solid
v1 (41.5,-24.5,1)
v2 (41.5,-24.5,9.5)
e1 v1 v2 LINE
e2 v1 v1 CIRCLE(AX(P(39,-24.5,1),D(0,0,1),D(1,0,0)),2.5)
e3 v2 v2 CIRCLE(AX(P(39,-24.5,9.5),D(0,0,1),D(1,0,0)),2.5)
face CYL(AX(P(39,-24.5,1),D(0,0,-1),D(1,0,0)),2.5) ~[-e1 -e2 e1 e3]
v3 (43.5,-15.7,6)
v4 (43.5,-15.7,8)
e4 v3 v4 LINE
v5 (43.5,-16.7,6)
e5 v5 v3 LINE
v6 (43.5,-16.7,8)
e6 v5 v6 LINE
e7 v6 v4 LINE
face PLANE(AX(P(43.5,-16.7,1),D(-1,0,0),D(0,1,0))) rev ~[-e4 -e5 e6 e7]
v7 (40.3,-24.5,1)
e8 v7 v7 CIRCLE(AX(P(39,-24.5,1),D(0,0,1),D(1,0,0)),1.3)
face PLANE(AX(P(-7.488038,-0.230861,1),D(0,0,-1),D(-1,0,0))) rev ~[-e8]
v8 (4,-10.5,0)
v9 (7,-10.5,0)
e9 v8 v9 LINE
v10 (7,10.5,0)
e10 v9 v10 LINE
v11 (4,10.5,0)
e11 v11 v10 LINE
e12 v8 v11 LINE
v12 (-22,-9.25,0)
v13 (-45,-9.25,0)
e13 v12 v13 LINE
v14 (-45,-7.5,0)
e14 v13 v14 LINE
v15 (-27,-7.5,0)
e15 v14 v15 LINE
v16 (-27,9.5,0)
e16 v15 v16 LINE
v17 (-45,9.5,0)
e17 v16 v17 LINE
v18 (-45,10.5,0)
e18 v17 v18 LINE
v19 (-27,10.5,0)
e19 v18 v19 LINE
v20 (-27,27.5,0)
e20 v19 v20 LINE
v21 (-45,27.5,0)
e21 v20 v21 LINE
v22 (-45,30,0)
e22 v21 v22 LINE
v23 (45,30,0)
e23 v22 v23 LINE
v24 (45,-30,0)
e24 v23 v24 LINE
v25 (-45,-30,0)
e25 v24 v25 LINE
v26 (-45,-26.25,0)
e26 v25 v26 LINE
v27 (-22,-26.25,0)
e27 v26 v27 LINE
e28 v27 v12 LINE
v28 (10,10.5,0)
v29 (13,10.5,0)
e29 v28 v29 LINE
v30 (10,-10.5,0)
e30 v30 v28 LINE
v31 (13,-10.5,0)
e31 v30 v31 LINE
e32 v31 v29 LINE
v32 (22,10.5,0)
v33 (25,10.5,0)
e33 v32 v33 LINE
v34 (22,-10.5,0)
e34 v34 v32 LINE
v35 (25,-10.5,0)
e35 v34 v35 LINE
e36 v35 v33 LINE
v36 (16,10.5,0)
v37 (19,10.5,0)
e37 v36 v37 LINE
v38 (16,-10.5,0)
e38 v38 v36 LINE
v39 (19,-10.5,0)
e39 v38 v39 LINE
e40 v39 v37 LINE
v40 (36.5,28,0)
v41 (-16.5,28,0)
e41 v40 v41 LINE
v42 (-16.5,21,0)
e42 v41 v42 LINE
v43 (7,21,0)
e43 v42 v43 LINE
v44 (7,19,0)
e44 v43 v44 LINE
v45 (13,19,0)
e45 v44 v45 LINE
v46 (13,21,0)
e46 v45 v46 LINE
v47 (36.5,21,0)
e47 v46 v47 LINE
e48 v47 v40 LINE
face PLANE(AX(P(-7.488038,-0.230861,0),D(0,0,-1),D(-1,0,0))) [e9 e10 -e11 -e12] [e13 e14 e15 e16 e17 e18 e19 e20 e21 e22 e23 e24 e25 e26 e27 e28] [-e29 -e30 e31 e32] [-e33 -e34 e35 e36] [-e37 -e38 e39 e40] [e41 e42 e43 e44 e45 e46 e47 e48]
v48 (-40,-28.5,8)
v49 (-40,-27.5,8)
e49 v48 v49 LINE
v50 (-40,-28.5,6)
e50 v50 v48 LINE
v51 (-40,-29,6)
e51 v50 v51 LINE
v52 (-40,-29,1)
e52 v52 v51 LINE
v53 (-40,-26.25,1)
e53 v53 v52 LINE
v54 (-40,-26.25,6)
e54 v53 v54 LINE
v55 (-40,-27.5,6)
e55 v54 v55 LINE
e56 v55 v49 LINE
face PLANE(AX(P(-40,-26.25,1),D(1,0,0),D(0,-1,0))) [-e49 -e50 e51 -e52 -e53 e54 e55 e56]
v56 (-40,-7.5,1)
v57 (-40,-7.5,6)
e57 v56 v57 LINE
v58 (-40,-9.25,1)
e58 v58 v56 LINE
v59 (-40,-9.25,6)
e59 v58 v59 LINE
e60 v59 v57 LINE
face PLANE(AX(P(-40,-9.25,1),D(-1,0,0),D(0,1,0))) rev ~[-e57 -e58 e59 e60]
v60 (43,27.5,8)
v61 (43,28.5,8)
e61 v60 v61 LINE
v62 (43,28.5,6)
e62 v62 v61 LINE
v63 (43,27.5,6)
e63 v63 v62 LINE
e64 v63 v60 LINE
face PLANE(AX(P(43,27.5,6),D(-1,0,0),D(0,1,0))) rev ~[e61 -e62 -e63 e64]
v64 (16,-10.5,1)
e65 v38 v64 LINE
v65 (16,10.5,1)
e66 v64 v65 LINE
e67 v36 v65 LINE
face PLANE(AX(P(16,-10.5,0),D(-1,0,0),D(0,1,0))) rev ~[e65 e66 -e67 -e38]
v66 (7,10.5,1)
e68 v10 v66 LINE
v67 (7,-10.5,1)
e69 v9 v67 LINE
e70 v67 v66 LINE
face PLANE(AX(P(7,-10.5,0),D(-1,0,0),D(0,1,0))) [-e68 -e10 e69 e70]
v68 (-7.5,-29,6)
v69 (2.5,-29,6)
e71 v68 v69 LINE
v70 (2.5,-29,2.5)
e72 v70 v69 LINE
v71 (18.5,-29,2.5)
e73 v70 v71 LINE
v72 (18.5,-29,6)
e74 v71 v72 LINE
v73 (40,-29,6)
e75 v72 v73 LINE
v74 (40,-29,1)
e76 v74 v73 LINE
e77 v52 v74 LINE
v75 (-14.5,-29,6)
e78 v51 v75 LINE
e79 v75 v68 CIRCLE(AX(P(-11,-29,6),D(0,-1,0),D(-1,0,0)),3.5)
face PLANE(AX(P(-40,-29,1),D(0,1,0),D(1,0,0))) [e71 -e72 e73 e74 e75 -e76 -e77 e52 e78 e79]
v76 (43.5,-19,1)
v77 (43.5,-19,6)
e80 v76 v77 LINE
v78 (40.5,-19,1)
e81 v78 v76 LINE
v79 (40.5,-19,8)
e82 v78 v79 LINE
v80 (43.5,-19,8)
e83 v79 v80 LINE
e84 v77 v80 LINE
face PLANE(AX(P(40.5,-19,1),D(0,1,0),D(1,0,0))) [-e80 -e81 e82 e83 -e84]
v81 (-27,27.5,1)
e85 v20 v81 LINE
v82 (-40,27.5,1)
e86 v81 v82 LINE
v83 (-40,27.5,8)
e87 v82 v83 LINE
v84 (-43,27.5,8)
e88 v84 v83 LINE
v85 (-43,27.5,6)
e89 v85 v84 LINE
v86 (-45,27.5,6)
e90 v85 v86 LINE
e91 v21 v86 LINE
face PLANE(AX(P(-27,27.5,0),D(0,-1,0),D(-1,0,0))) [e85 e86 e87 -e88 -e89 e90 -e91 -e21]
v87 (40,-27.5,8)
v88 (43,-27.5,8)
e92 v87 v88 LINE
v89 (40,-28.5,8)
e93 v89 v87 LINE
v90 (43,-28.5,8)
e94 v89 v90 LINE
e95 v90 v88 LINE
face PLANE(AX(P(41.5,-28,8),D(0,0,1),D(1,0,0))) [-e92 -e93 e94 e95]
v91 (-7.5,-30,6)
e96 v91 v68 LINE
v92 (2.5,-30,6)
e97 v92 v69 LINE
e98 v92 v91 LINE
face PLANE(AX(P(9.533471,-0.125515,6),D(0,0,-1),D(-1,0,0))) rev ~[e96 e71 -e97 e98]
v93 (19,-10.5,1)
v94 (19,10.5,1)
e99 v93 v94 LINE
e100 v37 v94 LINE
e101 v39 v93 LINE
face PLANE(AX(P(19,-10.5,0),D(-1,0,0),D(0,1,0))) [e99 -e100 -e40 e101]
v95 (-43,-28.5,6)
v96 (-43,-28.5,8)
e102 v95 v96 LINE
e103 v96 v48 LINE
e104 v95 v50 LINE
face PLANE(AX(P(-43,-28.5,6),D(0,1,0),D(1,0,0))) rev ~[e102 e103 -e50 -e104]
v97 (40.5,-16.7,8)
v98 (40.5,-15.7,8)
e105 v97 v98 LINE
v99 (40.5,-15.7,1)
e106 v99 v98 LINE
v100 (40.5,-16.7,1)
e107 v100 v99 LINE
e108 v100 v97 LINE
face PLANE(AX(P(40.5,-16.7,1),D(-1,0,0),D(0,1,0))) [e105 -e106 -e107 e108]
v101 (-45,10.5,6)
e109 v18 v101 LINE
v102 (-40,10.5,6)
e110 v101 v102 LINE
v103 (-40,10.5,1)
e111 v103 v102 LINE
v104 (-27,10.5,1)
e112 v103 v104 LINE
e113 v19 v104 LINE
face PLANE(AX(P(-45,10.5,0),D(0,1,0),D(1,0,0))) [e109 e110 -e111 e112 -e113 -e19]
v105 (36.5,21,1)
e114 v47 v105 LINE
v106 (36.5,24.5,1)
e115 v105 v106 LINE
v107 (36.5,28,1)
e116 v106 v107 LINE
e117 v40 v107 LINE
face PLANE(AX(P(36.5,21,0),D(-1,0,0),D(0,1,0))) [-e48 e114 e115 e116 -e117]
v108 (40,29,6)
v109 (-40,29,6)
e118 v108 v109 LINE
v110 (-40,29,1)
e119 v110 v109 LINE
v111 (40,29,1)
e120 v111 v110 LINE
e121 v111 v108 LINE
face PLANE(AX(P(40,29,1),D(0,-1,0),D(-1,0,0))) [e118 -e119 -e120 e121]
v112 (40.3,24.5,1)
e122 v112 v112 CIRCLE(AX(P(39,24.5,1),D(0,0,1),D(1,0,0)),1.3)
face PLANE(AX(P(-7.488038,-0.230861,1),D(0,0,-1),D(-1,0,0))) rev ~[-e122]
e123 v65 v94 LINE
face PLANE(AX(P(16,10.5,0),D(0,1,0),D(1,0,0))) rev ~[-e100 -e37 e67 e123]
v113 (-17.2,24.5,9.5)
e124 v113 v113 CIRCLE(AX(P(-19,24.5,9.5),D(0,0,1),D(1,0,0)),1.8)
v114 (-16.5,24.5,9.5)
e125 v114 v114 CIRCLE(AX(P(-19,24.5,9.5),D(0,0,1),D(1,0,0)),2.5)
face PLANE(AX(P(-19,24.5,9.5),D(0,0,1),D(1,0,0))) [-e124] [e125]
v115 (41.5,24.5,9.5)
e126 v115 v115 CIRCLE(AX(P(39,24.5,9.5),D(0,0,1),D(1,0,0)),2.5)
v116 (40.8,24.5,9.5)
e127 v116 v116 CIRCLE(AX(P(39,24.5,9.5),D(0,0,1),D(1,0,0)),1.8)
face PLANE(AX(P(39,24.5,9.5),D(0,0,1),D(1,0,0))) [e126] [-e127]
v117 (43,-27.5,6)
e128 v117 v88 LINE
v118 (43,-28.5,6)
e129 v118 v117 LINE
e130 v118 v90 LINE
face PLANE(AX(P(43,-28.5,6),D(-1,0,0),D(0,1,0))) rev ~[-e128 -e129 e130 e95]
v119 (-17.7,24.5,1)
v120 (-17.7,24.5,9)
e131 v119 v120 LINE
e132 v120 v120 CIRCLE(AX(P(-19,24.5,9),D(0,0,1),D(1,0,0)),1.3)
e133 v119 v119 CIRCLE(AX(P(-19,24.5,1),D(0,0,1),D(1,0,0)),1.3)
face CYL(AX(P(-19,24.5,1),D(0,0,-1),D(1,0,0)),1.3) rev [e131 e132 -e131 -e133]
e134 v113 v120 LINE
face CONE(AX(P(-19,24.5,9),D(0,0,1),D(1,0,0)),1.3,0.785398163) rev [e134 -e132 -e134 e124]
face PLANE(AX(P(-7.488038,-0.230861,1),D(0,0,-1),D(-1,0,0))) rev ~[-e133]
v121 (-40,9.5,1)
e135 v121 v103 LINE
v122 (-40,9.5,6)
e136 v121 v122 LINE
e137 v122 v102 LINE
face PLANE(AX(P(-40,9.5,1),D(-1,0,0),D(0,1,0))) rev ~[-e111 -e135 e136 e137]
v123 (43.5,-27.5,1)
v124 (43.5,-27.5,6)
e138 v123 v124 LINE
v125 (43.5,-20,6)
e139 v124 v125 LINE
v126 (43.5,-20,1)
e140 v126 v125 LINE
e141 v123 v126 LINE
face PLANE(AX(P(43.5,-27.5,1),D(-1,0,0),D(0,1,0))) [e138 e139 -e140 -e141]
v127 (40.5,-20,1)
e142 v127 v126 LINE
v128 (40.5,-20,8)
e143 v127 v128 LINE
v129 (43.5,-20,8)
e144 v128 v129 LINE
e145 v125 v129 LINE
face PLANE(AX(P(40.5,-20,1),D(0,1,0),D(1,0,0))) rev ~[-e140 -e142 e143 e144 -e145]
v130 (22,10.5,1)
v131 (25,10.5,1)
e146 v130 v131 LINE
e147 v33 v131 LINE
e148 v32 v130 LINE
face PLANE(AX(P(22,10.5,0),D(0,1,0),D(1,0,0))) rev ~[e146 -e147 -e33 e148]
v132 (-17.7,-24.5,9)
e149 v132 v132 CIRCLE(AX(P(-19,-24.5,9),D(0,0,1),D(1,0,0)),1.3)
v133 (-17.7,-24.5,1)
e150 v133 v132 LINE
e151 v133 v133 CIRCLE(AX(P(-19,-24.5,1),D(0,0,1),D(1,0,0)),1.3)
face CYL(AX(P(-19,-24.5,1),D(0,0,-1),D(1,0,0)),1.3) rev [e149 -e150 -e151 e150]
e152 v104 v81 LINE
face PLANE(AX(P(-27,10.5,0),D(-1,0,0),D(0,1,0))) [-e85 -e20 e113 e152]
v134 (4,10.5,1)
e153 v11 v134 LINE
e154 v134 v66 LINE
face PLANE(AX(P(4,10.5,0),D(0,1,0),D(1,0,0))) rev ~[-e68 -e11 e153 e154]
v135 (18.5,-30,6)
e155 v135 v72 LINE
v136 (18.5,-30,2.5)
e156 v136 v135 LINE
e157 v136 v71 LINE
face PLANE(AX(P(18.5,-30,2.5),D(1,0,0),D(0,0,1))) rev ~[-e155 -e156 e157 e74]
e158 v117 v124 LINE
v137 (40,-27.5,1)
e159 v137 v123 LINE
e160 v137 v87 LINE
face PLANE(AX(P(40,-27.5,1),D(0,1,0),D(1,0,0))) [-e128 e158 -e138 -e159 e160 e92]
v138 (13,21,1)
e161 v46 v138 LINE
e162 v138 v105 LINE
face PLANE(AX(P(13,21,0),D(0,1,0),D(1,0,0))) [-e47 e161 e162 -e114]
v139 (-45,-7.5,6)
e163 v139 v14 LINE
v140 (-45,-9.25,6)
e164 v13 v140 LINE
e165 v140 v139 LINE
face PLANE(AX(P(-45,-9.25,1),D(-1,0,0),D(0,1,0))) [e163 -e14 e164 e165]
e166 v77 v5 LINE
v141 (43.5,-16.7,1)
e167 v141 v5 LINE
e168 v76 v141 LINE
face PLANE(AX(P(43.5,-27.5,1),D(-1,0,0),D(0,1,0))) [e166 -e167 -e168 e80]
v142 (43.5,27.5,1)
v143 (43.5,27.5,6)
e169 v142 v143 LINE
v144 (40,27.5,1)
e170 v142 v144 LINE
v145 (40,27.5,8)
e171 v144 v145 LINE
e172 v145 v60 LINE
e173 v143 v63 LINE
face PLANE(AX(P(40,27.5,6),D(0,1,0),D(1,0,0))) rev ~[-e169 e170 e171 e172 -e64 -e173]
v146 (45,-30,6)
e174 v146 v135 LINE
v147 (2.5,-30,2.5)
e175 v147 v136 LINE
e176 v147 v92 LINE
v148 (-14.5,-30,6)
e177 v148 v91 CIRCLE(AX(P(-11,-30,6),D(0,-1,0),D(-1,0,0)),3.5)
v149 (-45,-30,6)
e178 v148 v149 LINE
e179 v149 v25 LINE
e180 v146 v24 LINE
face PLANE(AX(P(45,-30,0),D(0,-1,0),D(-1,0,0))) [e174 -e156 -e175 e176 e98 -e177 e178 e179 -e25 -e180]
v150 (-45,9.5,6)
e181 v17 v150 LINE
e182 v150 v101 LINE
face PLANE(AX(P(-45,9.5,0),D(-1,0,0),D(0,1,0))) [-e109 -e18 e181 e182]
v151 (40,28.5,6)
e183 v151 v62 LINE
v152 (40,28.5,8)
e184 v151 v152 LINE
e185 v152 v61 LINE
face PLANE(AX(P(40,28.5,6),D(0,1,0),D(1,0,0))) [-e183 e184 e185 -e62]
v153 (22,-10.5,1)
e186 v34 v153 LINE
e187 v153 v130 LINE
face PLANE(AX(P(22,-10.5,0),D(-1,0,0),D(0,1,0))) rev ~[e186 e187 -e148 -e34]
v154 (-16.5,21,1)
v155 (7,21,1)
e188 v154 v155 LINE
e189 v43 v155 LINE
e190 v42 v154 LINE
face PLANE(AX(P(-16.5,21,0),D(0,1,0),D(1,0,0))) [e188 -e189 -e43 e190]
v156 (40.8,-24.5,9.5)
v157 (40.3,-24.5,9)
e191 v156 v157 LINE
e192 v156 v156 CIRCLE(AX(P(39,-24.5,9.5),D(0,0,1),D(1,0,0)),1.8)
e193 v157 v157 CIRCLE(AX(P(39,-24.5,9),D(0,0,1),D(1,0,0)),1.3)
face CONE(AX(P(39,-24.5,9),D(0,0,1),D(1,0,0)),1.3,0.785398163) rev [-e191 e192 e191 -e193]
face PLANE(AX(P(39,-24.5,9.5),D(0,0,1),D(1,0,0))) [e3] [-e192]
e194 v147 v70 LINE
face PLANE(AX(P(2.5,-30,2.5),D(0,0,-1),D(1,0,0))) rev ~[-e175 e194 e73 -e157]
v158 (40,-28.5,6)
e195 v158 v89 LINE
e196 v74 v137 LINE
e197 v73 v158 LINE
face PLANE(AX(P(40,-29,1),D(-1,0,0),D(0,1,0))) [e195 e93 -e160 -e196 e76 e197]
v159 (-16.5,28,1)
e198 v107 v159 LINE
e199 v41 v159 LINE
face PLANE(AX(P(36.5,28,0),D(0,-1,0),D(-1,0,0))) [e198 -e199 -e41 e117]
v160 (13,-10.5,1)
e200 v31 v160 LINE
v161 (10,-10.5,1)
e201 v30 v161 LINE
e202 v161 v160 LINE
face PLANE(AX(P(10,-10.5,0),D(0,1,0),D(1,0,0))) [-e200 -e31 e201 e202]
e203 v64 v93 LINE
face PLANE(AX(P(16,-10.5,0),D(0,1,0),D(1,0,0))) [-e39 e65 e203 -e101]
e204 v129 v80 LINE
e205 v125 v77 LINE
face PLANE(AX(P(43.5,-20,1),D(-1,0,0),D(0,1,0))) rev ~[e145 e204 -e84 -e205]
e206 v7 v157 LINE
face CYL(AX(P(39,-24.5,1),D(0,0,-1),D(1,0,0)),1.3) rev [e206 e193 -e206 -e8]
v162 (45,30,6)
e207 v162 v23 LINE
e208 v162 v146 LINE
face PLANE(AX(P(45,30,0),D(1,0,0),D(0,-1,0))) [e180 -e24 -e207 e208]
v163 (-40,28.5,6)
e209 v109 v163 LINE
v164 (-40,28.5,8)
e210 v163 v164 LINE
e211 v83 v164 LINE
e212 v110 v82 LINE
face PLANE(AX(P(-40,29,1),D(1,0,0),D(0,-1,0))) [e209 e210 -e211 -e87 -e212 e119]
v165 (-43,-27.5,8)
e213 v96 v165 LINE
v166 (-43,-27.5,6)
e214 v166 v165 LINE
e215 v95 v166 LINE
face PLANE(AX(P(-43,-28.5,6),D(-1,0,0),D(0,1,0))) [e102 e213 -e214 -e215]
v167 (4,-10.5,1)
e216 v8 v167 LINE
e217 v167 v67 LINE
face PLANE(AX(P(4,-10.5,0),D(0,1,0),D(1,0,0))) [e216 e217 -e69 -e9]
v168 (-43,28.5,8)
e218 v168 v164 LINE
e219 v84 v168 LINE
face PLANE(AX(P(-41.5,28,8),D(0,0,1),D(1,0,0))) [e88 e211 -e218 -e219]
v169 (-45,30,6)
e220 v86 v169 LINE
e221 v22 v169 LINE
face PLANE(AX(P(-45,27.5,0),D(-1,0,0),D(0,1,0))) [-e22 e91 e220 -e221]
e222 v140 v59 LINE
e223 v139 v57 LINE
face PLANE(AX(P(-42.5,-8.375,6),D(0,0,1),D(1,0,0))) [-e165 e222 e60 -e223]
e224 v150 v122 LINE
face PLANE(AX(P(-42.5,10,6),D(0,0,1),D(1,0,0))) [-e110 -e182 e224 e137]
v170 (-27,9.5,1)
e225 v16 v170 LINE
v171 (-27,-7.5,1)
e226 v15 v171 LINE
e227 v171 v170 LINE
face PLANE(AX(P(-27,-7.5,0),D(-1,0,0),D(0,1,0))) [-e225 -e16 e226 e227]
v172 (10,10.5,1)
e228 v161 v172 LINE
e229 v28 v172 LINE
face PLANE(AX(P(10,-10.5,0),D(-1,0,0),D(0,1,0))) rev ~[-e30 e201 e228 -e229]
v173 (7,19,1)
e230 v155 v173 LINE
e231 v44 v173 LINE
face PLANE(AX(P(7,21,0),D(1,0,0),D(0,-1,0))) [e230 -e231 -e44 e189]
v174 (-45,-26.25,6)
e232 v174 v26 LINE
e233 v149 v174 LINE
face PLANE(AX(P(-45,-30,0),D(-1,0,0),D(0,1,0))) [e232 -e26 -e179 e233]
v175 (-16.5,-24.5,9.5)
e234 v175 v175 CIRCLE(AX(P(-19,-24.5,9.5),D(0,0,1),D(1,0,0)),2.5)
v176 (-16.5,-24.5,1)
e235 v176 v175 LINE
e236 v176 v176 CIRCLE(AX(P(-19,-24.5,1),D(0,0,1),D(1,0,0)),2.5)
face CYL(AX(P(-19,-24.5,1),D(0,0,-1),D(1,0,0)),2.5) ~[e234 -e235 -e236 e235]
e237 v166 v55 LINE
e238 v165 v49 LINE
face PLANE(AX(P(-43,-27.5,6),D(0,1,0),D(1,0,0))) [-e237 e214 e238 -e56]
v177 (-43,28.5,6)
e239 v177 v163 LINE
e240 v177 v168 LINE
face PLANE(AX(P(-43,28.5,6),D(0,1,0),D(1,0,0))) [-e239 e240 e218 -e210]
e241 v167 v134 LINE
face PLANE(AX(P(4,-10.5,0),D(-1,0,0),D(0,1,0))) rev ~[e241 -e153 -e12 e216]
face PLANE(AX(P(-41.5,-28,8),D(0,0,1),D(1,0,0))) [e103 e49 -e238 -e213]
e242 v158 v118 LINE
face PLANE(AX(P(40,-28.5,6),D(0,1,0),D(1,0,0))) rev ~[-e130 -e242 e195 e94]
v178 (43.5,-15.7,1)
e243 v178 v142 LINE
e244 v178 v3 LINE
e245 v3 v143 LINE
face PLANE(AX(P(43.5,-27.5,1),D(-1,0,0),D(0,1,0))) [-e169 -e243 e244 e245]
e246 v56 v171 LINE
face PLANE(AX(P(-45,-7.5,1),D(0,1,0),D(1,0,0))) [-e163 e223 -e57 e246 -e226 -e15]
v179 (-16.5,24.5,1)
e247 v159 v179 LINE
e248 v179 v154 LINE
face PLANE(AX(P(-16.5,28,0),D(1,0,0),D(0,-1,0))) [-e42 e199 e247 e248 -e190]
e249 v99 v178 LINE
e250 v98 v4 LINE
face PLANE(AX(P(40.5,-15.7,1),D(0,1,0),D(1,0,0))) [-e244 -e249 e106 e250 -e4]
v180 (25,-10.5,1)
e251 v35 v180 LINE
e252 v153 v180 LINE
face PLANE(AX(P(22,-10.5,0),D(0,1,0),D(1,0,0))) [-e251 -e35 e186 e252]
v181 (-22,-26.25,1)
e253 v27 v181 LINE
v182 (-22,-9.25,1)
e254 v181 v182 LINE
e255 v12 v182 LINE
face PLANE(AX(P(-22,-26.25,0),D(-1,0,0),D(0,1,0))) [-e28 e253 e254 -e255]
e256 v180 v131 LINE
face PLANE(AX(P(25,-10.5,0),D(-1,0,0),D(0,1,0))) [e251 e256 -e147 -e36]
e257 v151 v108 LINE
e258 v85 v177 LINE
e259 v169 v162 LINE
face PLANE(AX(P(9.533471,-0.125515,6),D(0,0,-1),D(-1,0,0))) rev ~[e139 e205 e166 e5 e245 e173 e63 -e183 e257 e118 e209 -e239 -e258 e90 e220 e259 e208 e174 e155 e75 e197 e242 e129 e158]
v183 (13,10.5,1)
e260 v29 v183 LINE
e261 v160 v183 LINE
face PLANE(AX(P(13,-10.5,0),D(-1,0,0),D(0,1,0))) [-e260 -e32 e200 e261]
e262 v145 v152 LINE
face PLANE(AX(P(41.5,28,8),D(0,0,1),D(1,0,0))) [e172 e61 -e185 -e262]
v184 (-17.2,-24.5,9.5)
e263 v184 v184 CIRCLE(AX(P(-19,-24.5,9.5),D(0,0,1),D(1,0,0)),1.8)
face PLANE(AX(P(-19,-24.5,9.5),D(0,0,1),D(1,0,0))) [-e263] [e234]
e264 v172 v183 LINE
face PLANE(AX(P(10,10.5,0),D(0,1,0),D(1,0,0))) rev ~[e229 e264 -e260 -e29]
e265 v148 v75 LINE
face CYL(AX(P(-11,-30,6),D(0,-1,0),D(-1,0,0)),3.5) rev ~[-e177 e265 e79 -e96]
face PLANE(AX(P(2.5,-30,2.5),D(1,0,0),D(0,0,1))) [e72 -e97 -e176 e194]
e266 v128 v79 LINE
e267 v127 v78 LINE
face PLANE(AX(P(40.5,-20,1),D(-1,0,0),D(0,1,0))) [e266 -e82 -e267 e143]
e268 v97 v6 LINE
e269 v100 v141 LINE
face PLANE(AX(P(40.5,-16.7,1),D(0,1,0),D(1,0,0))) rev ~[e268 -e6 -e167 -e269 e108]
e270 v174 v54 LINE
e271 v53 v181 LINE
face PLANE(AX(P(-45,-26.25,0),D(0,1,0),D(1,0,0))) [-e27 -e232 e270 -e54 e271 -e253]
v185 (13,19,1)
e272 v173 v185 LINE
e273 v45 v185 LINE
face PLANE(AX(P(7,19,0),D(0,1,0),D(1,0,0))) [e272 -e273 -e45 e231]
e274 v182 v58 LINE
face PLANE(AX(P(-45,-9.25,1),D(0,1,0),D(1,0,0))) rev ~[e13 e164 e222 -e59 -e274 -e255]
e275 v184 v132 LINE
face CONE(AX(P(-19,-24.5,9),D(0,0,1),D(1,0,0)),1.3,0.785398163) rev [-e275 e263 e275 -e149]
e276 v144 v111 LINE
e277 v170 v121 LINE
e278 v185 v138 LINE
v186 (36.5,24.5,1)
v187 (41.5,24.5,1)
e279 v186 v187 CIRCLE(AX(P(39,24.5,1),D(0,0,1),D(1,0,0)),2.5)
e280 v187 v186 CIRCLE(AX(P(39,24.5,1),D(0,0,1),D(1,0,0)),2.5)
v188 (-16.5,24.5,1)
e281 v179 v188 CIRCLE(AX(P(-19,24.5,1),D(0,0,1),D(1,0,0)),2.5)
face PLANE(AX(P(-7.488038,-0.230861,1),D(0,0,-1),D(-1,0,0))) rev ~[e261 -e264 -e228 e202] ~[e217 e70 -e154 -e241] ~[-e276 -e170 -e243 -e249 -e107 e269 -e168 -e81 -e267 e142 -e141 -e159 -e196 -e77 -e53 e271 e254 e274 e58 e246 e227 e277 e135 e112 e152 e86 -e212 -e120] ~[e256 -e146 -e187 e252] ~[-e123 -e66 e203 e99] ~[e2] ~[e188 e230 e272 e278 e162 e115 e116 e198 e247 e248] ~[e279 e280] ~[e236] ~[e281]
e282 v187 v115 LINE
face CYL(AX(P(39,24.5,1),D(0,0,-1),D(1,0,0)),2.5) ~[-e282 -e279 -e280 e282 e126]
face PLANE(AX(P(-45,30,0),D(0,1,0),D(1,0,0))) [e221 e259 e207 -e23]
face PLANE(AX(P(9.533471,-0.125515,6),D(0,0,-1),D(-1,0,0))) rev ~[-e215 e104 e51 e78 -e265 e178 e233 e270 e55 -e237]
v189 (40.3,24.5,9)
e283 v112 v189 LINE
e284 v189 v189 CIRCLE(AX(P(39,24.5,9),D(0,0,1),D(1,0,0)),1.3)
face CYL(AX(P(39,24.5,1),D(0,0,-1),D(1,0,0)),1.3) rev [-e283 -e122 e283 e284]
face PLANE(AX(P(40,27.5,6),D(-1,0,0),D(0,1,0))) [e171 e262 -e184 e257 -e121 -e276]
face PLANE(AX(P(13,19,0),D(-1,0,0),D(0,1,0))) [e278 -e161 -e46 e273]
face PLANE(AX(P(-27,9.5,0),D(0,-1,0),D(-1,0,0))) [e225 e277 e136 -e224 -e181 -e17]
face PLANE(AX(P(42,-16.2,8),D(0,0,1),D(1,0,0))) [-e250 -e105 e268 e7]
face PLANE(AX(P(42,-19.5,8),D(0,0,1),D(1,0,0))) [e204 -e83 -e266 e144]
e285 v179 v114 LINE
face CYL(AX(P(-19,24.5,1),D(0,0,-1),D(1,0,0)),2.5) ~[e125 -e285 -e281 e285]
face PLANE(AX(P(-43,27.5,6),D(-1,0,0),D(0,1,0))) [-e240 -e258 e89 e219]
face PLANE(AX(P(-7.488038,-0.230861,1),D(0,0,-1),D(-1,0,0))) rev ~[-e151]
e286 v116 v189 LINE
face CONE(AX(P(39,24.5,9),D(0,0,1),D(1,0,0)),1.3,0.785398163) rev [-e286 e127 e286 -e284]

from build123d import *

# Parameters (mm, degrees)
SKETCH_W      = 3
SKETCH_H      = 21
PAD_DEPTH     = 1
SKETCH001_W   = 5
SKETCH001_H   = 1.75
SKETCH001_H_2 = 1
PAD001_DEPTH  = 5
SKETCH002_W   = 3
SKETCH002_H   = 1
PAD002_DEPTH  = 2
SKETCH003_R   = 2.5
SKETCH003_R_2 = 1.3
PAD003_DEPTH  = 8.5
SKETCH004_W   = 16
SKETCH004_H   = 3.5
POCKET_DEPTH  = 1
CHAMFER_SIZE  = 0.5
SKETCH005_W   = 3
SKETCH005_H   = 1
PAD004_DEPTH  = 7


with BuildPart() as part:
    # Sketch → Pad (new body)
    with BuildSketch(Plane.XY):
        Polygon((-45, 30), (45, 30), (45, -30), (-45, -30), (-45, -26.25), (-22, -26.25), (-22, -9.25), (-45, -9.25), (-45, -7.5), (-27, -7.5), (-27, 9.5), (-45, 9.5), (-45, 10.5), (-27, 10.5), (-27, 27.5), (-45, 27.5), align=None)
        Polygon((36.5, 21), (36.5, 28), (-16.5, 28), (-16.5, 21), (7, 21), (7, 19), (13, 19), (13, 21), align=None, mode=Mode.SUBTRACT)
        with Locations((5.5, 0)):
            Rectangle(SKETCH_W, SKETCH_H, mode=Mode.SUBTRACT)
        with Locations((11.5, 0)):
            Rectangle(SKETCH_W, SKETCH_H, mode=Mode.SUBTRACT)
        with Locations((17.5, 0)):
            Rectangle(SKETCH_W, SKETCH_H, mode=Mode.SUBTRACT)
        with Locations((23.5, 0)):
            Rectangle(SKETCH_W, SKETCH_H, mode=Mode.SUBTRACT)
    extrude(amount=PAD_DEPTH)

    # Sketch001 → Pad001 (new body)
    with BuildSketch(Plane.XY.offset(1)):
        with Locations((-42.5, -8.375)):
            Rectangle(SKETCH001_W, SKETCH001_H)
        with Locations((-42.5, 10)):
            Rectangle(SKETCH001_W, SKETCH001_H_2)
        Polygon((-45, 30), (45, 30), (45, -30), (-45, -30), (-45, -26.25), (-40, -26.25), (-40, -29), (40, -29), (40, -27.5), (43.5, -27.5), (43.5, 27.5), (40, 27.5), (40, 29), (-40, 29), (-40, 27.5), (-45, 27.5), align=None)
    extrude(amount=PAD001_DEPTH)

    # Sketch002 → Pad002 (new body)
    with BuildSketch(Plane.XY.offset(6)):
        with Locations((41.5, 28)):
            Rectangle(SKETCH002_W, SKETCH002_H)
        with Locations((-41.5, 28)):
            Rectangle(SKETCH002_W, SKETCH002_H)
        with Locations((-41.5, -28)):
            Rectangle(SKETCH002_W, SKETCH002_H)
        with Locations((41.5, -28)):
            Rectangle(SKETCH002_W, SKETCH002_H)
    extrude(amount=PAD002_DEPTH)

    # Sketch003 → Pad003 (new body)
    with BuildSketch(Plane.XY.offset(1)):
        with Locations((-19, 24.5)):
            Circle(SKETCH003_R)
        with Locations((-19, 24.5)):
            Circle(SKETCH003_R_2, mode=Mode.SUBTRACT)
        with Locations((39, 24.5)):
            Circle(SKETCH003_R)
        with Locations((39, 24.5)):
            Circle(SKETCH003_R_2, mode=Mode.SUBTRACT)
        with Locations((-19, -24.5)):
            Circle(SKETCH003_R)
        with Locations((-19, -24.5)):
            Circle(SKETCH003_R_2, mode=Mode.SUBTRACT)
        with Locations((39, -24.5)):
            Circle(SKETCH003_R)
        with Locations((39, -24.5)):
            Circle(SKETCH003_R_2, mode=Mode.SUBTRACT)
    extrude(amount=PAD003_DEPTH)

    # Sketch004 → Pocket (cut)
    with BuildSketch(Plane.XZ.offset(30)):
        with BuildLine():
            ThreePointArc((-14.5, 6), (-11, 2.5), (-7.5, 6))
            Line((-14.5, 6), (-7.5, 6))
        make_face()
        with Locations((10.5, 4.25)):
            Rectangle(SKETCH004_W, SKETCH004_H)
    extrude(amount=-POCKET_DEPTH, mode=Mode.SUBTRACT)

    # Chamfer
    chamfer_edges = [part.edges().sort_by_distance(p)[0] for p in [
        (-20.3, 24.5, 9.5),
        (37.7, 24.5, 9.5),
        (37.7, -24.5, 9.5),
        (-20.3, -24.5, 9.5),
    ]]
    chamfer(chamfer_edges, length=CHAMFER_SIZE)

    # Sketch005 → Pad004 (new body)
    with BuildSketch(Plane.XY.offset(1)):
        with Locations((42, -16.2)):
            Rectangle(SKETCH005_W, SKETCH005_H)
        with Locations((42, -19.5)):
            Rectangle(SKETCH005_W, SKETCH005_H)
    extrude(amount=PAD004_DEPTH)


solid = part.part
